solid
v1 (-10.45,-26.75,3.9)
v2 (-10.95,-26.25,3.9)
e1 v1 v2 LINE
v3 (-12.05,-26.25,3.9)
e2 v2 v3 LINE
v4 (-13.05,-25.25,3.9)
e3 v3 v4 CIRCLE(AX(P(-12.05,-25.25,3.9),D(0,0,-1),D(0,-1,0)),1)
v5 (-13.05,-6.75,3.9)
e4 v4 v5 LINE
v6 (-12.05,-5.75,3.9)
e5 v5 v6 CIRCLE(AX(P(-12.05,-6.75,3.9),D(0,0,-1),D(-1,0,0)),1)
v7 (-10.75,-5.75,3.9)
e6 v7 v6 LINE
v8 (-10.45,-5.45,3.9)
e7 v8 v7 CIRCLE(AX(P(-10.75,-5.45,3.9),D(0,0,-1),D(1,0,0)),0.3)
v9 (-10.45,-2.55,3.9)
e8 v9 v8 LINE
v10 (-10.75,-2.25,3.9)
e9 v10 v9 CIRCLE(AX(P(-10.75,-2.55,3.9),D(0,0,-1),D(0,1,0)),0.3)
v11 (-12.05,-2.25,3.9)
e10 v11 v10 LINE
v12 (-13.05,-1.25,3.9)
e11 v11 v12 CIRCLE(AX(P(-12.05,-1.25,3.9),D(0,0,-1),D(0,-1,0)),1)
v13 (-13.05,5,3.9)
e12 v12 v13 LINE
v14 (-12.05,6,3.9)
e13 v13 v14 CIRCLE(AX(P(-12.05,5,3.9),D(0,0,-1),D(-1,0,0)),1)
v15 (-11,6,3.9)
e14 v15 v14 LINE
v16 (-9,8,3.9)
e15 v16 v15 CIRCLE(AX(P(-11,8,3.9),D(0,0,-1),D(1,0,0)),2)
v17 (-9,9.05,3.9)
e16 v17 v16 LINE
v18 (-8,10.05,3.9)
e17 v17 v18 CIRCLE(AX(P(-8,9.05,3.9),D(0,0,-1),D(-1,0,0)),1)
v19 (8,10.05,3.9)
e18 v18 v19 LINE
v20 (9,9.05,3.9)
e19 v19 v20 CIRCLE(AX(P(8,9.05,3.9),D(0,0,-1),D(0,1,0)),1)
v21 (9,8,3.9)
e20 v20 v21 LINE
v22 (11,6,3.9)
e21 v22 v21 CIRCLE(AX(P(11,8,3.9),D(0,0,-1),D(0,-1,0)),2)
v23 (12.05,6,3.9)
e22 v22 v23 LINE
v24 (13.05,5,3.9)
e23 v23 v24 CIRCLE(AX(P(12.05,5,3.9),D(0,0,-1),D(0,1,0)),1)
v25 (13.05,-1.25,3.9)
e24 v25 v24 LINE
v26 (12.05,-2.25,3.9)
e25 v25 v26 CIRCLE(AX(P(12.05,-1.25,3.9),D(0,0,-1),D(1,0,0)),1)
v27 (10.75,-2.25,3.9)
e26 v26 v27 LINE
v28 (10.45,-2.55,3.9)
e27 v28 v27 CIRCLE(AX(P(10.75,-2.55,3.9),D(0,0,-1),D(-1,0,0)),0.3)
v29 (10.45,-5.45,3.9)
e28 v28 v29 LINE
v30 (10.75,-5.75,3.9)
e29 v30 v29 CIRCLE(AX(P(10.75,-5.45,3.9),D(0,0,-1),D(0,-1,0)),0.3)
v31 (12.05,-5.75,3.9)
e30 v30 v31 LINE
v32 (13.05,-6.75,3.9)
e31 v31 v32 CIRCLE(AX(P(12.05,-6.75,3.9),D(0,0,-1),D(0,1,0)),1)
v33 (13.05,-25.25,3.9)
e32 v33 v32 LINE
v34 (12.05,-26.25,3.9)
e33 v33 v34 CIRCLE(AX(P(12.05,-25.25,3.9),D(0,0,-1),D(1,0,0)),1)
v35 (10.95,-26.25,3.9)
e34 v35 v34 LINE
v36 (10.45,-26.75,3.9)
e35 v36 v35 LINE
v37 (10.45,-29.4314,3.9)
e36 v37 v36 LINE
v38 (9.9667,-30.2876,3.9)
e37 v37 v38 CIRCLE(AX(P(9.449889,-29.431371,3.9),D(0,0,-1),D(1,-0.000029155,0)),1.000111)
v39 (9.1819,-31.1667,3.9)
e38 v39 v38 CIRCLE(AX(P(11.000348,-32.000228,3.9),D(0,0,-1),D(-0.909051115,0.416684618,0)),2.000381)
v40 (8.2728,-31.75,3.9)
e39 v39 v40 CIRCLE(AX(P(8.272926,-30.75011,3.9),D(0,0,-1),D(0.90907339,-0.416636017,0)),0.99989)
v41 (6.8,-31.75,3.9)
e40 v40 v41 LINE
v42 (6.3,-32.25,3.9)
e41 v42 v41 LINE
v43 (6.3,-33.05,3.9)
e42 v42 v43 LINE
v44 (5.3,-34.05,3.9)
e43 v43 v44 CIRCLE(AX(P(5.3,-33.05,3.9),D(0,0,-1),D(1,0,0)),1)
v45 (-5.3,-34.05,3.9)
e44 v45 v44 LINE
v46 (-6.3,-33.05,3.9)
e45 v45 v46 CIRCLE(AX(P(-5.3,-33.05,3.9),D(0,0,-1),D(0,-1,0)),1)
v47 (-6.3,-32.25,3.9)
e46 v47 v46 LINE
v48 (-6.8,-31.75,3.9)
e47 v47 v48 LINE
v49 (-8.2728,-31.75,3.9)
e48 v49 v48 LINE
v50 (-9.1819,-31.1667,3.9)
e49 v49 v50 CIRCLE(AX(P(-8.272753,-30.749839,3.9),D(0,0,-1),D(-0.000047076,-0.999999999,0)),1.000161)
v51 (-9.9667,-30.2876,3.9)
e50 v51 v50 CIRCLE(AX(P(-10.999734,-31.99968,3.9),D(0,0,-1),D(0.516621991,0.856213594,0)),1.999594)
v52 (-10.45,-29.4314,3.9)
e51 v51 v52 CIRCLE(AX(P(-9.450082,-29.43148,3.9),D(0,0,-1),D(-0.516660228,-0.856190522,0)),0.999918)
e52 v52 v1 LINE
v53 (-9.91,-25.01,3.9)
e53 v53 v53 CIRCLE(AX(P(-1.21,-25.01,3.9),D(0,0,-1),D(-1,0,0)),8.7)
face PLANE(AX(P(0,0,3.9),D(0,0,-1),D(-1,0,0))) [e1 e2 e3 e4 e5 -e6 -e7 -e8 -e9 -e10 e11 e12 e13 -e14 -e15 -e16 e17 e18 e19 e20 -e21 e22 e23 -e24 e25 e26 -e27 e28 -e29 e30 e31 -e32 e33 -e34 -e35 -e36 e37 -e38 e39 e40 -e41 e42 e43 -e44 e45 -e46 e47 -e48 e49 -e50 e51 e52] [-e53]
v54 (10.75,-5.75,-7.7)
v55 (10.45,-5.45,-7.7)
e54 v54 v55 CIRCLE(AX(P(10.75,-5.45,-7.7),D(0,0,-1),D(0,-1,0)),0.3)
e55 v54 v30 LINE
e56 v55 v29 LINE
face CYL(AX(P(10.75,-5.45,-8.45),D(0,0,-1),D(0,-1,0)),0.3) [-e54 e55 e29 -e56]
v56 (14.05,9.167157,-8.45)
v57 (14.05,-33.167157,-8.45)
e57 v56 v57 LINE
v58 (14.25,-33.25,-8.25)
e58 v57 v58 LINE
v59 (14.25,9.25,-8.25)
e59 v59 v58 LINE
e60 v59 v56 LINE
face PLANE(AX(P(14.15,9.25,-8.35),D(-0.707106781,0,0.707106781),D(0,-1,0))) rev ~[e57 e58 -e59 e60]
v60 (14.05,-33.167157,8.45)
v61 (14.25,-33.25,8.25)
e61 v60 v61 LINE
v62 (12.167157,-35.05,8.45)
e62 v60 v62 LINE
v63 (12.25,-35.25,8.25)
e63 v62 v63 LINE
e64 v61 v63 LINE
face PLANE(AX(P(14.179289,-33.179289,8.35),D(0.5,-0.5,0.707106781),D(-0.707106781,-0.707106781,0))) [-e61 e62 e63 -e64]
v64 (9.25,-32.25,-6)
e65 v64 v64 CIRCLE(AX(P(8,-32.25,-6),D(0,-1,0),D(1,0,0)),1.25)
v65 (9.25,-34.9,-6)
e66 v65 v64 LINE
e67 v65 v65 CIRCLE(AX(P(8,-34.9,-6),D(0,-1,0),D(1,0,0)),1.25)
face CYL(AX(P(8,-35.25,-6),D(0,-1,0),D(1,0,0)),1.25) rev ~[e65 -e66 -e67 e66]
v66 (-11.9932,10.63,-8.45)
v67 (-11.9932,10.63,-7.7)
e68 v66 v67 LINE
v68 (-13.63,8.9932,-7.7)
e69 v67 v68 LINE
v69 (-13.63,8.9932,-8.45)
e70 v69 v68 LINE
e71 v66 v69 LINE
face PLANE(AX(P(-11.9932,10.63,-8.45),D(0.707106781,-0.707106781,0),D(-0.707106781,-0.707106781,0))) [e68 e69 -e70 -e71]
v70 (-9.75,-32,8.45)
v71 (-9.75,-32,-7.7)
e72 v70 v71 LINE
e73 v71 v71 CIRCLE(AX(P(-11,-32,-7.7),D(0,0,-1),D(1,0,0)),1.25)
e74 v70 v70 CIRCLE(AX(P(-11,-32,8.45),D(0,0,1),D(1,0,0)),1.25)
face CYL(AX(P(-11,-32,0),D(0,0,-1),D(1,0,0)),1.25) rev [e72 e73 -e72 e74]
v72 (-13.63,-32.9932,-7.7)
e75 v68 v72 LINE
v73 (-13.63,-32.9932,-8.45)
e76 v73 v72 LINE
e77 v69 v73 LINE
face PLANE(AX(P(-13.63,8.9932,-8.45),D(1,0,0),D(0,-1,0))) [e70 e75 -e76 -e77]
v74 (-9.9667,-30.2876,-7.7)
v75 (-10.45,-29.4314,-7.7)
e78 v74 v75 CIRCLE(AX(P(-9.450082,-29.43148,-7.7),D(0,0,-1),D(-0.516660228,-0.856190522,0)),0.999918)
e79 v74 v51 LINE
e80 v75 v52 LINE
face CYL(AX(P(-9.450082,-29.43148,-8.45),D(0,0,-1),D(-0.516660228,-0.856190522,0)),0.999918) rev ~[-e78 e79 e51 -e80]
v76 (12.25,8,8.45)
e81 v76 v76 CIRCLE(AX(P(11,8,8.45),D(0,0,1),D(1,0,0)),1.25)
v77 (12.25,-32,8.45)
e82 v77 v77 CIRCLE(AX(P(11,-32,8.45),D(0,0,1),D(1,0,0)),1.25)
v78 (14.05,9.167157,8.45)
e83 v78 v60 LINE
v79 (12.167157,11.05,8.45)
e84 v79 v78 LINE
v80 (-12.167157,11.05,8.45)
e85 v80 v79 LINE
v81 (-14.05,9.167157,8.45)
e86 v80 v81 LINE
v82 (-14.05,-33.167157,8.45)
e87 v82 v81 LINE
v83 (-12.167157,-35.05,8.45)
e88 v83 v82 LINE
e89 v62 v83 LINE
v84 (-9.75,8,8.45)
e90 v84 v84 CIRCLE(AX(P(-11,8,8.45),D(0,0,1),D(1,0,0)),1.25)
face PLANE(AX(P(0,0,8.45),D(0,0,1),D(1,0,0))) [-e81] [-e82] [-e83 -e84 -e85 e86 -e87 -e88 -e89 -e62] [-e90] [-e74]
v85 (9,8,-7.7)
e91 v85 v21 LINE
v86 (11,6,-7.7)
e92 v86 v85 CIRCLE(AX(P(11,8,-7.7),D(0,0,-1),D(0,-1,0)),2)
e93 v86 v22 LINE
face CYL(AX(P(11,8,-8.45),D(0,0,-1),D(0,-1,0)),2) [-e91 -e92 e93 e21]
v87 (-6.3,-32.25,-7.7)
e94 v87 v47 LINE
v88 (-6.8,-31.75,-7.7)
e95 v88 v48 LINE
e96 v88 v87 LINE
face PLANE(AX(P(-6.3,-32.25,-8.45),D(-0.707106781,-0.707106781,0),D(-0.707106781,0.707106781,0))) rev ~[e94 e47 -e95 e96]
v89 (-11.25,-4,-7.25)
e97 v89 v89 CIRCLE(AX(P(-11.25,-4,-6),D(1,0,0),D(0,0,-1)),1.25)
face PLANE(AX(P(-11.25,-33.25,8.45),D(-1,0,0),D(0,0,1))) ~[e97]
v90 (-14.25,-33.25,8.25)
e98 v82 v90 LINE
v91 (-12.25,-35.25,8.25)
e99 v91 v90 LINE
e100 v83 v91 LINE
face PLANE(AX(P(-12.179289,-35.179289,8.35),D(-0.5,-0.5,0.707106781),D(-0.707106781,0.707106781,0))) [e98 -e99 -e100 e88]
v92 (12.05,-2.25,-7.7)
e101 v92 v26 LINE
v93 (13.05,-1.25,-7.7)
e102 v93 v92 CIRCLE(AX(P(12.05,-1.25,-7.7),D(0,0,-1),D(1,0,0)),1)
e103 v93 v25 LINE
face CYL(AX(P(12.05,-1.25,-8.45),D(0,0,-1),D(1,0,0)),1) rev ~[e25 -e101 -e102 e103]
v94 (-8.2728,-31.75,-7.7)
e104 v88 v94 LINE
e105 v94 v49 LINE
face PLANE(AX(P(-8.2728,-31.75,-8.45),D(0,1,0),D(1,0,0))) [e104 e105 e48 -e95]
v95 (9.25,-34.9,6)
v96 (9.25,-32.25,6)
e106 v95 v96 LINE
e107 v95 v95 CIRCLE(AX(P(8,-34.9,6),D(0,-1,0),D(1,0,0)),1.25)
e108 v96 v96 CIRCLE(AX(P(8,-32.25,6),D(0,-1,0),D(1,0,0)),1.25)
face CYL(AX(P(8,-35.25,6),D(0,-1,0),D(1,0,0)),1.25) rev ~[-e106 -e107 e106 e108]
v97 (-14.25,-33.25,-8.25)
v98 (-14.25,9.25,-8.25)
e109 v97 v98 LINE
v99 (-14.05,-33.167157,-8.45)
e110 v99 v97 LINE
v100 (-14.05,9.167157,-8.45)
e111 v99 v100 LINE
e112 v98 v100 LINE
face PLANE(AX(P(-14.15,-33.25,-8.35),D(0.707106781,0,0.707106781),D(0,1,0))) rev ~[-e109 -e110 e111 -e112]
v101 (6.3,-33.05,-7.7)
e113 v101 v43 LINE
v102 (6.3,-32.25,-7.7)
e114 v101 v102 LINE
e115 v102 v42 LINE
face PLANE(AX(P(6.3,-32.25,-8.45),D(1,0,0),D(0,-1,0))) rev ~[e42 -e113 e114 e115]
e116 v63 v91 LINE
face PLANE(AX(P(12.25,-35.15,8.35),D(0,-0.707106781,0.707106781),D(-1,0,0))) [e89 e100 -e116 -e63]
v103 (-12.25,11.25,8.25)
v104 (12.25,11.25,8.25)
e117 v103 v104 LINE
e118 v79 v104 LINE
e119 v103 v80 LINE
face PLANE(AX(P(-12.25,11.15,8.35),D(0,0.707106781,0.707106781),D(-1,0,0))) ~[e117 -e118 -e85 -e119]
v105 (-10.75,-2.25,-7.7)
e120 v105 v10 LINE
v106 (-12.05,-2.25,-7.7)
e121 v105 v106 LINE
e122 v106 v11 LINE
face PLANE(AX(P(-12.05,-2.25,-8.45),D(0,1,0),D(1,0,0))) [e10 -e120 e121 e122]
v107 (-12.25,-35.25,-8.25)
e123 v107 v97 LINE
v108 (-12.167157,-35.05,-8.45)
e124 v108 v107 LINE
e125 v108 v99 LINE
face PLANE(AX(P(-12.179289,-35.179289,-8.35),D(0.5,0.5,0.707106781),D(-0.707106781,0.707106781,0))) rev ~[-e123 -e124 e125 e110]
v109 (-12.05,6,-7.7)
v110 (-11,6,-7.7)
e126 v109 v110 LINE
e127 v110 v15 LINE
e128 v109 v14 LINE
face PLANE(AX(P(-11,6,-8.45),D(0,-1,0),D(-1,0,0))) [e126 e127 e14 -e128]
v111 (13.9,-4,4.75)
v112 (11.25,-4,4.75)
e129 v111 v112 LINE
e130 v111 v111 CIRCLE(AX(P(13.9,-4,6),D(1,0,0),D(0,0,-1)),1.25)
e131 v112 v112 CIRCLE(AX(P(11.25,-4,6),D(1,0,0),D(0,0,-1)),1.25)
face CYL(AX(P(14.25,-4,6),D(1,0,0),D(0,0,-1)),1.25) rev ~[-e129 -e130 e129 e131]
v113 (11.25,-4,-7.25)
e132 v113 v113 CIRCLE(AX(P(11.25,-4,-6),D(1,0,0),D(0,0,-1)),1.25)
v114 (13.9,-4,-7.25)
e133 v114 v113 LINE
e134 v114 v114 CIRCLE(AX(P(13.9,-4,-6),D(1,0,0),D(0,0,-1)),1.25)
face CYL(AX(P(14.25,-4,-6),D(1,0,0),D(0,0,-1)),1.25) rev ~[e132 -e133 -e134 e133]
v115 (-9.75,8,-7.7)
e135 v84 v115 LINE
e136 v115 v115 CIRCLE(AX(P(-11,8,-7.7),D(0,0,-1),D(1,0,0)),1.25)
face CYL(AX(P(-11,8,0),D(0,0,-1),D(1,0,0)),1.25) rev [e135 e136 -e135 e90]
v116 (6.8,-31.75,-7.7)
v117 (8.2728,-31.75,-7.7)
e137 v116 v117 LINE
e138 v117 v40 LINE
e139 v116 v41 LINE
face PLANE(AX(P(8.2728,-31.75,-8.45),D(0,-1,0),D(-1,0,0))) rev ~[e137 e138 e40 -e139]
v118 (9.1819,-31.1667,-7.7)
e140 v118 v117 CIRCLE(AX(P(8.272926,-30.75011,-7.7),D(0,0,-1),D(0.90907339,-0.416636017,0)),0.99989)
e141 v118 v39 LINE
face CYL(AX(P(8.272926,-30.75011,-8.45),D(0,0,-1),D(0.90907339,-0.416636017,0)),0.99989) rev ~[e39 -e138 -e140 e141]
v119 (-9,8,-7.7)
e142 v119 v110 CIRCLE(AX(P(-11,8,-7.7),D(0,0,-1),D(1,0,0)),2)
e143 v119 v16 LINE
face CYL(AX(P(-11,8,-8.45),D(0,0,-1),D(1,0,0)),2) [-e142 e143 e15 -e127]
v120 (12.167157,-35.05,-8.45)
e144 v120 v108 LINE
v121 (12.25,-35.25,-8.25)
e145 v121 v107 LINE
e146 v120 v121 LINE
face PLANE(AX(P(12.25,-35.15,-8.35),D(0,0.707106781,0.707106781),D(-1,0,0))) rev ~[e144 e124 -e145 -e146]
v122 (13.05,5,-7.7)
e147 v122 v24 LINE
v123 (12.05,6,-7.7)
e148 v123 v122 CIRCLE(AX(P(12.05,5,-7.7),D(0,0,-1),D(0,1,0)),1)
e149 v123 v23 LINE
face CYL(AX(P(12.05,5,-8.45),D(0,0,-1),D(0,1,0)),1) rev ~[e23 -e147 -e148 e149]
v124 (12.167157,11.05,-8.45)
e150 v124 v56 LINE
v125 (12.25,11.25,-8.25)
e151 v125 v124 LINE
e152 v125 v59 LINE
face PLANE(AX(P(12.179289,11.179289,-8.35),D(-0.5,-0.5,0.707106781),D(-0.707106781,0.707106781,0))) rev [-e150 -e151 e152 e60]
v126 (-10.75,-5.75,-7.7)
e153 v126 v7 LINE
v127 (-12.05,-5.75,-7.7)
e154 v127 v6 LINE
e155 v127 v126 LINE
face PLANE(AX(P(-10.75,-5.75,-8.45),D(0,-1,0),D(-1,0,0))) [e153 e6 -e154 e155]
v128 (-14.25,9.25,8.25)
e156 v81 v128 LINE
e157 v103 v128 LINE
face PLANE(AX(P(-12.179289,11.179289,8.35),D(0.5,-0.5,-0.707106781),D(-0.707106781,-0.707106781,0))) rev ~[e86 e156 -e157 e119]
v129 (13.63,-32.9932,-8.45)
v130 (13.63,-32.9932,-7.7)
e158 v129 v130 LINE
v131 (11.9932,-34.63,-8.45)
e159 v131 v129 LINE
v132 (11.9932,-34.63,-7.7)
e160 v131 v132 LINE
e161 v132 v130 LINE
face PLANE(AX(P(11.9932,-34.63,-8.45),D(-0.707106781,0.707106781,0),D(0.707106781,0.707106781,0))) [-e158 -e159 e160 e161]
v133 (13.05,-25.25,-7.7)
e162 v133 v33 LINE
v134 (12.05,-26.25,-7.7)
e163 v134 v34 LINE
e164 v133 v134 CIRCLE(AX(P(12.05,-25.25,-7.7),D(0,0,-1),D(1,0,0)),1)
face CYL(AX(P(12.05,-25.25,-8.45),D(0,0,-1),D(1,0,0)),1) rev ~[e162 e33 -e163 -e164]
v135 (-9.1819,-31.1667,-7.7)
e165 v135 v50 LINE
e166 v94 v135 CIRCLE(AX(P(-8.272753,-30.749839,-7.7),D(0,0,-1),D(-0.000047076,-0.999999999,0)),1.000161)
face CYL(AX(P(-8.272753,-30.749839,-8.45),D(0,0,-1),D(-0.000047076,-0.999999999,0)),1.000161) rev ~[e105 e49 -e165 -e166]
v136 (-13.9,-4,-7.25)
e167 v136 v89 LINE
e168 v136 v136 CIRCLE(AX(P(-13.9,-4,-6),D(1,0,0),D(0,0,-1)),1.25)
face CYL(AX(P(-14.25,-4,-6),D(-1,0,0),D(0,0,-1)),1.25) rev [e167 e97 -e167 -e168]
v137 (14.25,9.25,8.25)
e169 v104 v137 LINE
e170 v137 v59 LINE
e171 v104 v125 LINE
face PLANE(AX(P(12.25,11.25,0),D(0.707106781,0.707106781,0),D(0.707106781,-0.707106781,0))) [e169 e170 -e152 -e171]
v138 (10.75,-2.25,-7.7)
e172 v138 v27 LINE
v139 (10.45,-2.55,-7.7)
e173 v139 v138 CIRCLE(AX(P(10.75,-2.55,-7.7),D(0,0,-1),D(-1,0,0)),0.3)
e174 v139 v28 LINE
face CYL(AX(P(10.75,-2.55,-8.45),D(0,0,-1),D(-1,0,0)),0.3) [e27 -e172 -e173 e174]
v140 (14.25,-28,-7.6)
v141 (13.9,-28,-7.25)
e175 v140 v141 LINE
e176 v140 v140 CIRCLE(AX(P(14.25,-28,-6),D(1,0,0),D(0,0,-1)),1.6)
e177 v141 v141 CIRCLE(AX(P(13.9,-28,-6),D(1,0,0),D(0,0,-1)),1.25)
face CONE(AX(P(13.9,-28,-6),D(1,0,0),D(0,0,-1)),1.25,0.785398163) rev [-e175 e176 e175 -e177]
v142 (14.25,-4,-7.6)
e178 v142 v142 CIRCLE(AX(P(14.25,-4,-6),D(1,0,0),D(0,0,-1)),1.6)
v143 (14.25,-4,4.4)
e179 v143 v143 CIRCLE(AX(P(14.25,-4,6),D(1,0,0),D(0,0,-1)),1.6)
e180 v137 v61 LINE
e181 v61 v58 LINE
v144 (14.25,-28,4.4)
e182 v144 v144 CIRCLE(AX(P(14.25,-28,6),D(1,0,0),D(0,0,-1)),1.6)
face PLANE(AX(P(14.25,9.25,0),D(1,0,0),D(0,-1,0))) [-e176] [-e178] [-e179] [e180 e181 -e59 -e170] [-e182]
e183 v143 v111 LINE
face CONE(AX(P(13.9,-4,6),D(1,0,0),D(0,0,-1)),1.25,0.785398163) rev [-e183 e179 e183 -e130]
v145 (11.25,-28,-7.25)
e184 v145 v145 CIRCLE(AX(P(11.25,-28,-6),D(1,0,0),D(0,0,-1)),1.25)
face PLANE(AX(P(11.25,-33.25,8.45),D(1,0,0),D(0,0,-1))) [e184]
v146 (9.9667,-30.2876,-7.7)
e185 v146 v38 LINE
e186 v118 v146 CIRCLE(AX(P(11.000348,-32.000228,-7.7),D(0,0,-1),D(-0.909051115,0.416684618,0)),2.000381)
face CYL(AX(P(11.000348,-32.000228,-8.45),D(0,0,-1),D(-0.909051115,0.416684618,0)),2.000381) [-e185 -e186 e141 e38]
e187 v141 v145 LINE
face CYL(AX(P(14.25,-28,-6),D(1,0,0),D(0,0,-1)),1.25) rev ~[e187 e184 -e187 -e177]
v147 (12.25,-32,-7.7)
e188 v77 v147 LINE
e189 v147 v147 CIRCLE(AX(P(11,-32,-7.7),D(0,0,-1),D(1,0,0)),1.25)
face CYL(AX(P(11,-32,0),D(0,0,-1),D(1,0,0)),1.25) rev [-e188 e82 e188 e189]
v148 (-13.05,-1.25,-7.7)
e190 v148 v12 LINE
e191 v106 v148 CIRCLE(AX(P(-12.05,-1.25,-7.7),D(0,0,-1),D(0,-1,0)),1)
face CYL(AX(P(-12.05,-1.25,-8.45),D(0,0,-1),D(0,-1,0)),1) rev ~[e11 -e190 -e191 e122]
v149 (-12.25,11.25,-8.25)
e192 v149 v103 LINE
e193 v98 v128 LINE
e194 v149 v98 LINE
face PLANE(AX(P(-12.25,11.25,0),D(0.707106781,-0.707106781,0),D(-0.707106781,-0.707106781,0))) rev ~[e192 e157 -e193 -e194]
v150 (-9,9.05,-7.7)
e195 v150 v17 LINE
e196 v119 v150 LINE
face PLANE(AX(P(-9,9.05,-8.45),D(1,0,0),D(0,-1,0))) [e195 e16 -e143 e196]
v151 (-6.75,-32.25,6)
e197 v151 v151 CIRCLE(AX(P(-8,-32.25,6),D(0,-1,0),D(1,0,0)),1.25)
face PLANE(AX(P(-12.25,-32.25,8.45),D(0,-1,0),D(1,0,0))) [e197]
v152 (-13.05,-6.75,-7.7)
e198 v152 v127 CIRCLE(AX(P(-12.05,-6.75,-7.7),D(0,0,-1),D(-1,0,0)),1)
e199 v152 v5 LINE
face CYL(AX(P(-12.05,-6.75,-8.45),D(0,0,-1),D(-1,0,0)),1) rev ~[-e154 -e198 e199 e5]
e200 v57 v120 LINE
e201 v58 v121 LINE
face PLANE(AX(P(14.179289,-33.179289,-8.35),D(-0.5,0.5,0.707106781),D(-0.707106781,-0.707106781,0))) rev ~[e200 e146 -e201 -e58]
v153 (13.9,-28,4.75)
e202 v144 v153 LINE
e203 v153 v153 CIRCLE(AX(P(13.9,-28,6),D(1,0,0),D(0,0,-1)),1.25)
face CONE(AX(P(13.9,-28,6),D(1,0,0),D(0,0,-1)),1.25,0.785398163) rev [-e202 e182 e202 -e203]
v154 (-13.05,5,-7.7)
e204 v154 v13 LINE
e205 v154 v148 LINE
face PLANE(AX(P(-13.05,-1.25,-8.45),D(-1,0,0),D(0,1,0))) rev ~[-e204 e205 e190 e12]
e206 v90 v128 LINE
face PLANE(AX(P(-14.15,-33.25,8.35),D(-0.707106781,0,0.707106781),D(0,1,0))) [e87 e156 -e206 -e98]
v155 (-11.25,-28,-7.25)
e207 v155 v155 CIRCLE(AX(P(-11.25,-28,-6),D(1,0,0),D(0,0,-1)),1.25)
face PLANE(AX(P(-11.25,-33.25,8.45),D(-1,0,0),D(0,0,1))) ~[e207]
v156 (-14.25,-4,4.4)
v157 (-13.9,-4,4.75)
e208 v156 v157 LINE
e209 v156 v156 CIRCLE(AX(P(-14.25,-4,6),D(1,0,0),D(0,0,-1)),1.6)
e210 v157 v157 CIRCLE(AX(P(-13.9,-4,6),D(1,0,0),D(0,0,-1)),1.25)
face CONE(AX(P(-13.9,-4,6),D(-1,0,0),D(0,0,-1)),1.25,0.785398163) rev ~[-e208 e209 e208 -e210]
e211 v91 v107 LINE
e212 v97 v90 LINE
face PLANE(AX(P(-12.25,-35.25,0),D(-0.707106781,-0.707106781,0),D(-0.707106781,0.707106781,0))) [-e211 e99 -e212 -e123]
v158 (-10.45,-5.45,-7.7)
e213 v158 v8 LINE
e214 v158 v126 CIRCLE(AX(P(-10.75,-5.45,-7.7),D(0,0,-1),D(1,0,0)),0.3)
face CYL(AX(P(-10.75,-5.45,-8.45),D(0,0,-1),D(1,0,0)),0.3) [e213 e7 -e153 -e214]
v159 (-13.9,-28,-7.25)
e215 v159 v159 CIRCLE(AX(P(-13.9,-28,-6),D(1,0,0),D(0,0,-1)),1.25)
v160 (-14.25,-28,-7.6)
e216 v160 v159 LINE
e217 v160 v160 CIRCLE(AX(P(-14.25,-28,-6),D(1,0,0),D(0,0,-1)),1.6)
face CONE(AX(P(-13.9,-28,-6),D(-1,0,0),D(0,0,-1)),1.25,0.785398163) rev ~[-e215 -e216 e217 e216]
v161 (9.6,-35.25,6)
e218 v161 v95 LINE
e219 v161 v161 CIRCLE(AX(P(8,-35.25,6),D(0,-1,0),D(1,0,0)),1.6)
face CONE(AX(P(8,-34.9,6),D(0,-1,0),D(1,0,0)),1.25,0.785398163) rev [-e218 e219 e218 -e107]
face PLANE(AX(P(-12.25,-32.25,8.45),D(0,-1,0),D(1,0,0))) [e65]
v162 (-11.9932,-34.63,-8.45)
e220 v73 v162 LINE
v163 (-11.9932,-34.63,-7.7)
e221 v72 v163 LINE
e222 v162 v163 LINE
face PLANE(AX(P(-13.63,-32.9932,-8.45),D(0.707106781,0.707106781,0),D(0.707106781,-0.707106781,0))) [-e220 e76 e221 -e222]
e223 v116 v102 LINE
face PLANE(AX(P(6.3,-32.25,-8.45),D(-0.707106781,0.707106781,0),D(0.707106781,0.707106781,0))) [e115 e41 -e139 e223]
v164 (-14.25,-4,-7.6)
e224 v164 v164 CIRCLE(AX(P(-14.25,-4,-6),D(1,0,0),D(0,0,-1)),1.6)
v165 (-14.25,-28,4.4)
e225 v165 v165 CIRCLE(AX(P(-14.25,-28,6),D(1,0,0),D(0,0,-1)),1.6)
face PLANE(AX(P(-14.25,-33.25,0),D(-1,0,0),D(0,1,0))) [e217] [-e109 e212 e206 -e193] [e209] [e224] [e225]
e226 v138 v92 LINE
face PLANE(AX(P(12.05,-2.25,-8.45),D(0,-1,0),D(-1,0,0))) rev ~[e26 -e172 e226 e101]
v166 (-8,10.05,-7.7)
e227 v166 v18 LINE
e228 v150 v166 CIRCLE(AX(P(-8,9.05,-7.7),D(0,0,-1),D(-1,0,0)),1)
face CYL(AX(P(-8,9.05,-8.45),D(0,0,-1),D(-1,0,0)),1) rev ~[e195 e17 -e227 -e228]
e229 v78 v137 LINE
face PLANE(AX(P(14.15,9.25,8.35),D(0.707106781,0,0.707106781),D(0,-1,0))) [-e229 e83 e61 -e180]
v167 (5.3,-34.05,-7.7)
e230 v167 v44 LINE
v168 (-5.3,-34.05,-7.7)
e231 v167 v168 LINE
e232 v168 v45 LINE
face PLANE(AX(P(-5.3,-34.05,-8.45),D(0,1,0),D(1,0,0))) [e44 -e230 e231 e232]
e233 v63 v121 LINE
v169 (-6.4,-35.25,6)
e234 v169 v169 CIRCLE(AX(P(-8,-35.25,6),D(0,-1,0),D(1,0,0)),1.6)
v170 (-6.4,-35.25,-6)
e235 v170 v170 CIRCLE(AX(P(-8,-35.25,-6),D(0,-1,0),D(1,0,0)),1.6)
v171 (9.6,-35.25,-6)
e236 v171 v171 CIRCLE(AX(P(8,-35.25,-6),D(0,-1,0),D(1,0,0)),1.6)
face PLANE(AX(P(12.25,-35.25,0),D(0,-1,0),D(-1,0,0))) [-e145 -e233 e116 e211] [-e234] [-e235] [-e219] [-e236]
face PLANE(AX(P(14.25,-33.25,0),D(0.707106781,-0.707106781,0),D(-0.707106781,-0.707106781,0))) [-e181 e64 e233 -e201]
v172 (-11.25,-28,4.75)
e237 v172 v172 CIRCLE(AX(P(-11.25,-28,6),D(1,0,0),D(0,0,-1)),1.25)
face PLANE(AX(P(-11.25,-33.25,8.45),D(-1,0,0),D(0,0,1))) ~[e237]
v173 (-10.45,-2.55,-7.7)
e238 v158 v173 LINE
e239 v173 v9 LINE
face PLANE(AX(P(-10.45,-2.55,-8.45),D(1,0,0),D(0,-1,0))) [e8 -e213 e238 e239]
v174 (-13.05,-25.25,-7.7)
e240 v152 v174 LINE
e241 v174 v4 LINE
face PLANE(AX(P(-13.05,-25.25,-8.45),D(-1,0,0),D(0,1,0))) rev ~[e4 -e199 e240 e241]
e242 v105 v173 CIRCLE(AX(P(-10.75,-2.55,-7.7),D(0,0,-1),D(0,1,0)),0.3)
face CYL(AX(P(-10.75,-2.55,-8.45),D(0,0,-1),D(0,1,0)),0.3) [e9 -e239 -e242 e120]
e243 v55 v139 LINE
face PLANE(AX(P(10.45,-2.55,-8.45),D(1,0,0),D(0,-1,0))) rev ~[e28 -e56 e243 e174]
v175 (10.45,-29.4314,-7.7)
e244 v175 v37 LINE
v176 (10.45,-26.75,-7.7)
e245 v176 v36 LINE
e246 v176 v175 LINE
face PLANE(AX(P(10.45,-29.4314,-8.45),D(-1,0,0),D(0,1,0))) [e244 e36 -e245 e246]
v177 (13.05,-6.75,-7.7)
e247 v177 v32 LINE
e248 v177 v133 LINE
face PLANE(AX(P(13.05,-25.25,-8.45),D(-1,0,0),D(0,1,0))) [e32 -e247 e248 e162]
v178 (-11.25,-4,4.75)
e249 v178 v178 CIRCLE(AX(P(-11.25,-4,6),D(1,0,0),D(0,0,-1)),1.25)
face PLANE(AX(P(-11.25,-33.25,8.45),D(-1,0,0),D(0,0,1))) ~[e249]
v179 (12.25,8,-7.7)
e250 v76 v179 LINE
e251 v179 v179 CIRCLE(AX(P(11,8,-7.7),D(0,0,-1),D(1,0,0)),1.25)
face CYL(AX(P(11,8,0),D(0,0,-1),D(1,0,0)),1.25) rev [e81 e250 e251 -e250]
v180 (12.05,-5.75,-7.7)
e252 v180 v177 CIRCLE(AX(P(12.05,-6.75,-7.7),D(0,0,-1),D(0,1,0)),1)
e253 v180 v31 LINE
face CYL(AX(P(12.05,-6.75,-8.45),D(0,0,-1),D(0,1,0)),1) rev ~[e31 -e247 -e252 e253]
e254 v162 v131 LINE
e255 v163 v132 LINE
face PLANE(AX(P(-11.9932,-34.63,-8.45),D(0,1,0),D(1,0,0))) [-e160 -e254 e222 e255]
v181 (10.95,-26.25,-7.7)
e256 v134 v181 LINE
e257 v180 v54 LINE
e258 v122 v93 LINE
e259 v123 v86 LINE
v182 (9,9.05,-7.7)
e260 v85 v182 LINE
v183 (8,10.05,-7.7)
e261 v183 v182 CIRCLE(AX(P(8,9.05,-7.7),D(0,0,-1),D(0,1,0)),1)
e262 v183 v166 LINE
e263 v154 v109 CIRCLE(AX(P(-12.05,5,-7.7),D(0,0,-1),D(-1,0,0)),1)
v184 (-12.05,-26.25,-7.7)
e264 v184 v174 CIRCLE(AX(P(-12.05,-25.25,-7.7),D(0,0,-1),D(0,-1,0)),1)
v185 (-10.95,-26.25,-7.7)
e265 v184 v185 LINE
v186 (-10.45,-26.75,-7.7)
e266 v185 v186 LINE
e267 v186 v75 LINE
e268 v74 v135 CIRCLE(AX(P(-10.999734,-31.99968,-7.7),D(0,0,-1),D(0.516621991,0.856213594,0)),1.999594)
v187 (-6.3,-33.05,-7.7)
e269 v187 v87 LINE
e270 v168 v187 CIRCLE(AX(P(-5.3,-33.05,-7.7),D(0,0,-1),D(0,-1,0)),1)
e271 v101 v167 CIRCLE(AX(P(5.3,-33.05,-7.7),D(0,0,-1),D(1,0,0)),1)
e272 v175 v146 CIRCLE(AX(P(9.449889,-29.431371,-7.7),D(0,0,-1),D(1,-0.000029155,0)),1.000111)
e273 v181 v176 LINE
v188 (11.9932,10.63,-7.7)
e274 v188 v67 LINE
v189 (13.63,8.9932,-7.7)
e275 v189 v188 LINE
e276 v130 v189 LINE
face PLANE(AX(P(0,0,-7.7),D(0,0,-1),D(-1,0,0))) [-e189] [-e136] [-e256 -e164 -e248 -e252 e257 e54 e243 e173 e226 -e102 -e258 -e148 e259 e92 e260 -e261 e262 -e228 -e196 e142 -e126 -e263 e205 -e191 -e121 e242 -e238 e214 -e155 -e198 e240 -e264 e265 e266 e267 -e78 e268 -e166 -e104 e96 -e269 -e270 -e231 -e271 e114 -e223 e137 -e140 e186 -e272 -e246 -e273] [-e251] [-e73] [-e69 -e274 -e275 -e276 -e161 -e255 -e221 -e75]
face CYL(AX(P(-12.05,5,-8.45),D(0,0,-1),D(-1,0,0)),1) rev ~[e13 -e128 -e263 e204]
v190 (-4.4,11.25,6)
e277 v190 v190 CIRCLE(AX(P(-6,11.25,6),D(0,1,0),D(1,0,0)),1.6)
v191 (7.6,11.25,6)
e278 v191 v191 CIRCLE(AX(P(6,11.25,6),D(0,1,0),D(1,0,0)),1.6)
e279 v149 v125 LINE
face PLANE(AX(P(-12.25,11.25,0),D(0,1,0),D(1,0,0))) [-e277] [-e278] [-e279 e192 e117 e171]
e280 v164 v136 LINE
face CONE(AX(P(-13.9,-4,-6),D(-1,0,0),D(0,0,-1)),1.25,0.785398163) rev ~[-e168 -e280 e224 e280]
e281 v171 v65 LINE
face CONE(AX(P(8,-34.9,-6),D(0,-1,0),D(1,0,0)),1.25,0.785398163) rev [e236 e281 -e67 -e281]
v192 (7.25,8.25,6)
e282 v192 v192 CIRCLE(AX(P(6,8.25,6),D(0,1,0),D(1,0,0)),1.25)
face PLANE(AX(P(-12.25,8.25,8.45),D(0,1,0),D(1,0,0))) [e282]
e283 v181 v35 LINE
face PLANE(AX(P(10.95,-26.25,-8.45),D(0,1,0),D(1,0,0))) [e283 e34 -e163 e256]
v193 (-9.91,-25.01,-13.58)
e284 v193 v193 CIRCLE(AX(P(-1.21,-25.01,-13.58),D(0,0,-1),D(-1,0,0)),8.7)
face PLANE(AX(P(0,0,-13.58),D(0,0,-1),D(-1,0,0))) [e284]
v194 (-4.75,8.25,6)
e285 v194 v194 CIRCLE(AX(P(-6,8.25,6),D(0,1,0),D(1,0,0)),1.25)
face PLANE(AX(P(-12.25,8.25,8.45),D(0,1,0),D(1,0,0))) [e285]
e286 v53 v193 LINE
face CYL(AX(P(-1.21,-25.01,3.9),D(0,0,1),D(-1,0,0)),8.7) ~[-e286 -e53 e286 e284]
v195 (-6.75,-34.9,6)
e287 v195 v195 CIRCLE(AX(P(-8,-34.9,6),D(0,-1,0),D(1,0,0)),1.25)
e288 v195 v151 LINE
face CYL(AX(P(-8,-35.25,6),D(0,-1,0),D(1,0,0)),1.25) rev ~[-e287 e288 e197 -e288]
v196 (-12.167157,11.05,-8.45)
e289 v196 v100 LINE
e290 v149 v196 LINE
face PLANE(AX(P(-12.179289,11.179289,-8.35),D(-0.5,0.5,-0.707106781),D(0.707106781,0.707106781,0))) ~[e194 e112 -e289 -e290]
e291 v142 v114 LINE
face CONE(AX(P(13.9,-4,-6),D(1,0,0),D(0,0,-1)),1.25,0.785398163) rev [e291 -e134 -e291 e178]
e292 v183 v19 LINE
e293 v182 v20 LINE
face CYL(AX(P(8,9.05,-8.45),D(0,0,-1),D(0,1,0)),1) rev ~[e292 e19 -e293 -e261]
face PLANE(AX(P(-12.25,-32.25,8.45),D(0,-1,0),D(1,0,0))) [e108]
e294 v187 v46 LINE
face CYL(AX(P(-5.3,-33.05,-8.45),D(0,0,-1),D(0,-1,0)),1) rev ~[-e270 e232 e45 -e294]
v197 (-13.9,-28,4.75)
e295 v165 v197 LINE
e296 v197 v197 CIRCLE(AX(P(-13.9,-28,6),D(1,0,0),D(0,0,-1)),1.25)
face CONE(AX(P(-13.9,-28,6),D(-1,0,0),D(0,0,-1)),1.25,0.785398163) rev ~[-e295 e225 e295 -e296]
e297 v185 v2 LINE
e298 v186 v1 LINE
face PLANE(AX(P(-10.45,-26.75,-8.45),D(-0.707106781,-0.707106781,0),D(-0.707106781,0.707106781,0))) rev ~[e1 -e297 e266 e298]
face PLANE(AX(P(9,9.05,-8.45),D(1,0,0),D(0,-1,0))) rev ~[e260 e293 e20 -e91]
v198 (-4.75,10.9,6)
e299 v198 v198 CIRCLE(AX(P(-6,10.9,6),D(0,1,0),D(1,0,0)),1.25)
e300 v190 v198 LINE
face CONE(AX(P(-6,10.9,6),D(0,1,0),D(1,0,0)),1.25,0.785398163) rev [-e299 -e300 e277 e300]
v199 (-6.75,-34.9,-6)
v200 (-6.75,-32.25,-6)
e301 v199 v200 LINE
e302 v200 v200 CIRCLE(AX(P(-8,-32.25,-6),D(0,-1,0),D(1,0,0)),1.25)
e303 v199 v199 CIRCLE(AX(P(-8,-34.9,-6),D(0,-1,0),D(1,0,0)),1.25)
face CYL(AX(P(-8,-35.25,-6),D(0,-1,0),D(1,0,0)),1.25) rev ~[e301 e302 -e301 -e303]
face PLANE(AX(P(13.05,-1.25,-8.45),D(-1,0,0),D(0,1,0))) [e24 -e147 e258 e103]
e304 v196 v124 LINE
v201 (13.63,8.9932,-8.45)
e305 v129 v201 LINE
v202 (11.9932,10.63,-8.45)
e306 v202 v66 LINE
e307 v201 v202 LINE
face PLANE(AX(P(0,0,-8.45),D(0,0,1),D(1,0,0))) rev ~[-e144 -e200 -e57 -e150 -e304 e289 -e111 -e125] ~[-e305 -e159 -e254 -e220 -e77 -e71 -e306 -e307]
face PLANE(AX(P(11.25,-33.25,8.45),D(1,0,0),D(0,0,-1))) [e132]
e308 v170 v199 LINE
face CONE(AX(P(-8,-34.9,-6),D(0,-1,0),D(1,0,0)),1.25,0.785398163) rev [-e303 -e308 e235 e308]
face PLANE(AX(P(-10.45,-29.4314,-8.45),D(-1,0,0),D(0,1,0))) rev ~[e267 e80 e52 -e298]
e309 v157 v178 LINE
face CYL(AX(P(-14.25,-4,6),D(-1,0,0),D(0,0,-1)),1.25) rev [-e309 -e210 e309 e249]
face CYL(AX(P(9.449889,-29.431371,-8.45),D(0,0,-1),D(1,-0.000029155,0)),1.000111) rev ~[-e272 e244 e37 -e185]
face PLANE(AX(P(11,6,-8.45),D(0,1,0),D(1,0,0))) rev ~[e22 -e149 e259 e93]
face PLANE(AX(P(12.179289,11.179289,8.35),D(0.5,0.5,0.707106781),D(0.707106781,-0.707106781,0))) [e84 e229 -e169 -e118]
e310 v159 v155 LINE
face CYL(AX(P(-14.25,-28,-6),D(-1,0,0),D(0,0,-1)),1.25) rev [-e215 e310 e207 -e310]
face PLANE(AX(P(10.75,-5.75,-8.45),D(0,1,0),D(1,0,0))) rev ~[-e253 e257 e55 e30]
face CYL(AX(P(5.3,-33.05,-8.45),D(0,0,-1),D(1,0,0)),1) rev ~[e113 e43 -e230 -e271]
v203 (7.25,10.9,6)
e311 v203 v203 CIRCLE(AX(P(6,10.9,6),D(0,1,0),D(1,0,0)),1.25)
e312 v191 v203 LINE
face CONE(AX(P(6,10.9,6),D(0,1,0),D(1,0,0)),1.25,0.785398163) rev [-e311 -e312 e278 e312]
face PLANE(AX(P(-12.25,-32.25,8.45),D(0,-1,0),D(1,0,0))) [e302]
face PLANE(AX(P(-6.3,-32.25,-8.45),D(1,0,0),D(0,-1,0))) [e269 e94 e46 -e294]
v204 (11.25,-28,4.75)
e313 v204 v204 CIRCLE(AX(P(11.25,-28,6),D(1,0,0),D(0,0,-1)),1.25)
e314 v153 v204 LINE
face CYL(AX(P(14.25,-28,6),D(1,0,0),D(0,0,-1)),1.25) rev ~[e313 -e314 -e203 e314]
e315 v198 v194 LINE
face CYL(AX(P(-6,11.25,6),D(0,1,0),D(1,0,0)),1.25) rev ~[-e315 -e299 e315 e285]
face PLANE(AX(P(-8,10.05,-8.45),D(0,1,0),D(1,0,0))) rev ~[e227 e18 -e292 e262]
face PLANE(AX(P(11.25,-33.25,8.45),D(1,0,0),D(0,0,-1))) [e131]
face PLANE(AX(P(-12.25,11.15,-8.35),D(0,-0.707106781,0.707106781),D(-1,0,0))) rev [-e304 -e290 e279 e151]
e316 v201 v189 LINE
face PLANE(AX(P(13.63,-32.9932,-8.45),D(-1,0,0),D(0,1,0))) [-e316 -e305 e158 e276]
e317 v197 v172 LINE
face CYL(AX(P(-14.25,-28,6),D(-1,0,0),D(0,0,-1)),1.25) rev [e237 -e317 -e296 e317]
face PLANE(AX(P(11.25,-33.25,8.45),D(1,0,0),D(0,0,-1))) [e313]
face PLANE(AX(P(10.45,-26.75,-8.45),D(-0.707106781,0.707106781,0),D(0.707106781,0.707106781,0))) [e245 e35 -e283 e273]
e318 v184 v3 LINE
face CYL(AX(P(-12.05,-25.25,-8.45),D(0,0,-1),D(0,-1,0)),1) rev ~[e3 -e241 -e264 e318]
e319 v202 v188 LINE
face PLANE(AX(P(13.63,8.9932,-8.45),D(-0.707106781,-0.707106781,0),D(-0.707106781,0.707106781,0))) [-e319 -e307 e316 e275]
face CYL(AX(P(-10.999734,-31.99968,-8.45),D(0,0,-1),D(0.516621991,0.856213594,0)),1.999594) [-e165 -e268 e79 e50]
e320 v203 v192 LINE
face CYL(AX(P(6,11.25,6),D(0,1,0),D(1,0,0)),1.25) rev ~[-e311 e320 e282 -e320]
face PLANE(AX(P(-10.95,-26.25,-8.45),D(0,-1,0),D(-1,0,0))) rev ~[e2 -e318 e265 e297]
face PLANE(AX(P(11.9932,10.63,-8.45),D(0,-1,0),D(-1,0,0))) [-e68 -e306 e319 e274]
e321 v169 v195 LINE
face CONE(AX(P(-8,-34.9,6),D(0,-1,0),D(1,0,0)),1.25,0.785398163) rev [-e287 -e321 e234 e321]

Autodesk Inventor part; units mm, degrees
ref_plane "YZ Plane" through (0, 0, 0) normal (1, 0, 0) x (0, 1, 0)
ref_plane "XZ Plane" through (0, 0, 0) normal (0, 1, 0) x (-1, 0, 0)
ref_plane "XY Plane" through (0, 0, 0) normal (0, 0, 1) x (1, 0, 0)
sketch "スケッチ1" plane through (0, 0, 0) normal (0, 0, 1) x (1, 0, 0)
  line L0 (-12.25, 11.25) -> (12.25, 11.25)
  line L1 (14.25, 9.25) -> (14.25, -33.25)
  line L2 (12.25, -35.25) -> (-12.25, -35.25)
  line L3 (-14.25, -33.25) -> (-14.25, 9.25)
  line L4 (0, 0) -> (0, 27.3047) construction
  line L5 (-23.6918, 0) -> (33.2657, 0) construction
  line L6 (-12.25, 11.25) -> (-14.25, 9.25)
  line L7 (12.25, 11.25) -> (14.25, 9.25)
  line L8 (14.25, -33.25) -> (12.25, -35.25)
  line L9 (-12.25, -35.25) -> (-14.25, -33.25)
  circle A0 centre (11, 8) radius 1.25
  circle A1 centre (11, -32) radius 1.25
  line L10 (11, 8) -> (11, -32) construction
  circle A2 centre (-11, 8) radius 1.25
  circle A3 centre (-11, -32) radius 1.25
  point P0 (-14.25, 11.25)
  point P1 (14.25, -35.25)
  point P2 (14.25, 11.25)
  point P3 (-14.25, -35.25)
  dimension "d0" = 11.25
  dimension "d1" = 28.5
  dimension "d2" = 46.5
  dimension "d3" = 2
  dimension "d4" = 2
  dimension "d5" = 2
  dimension "d6" = 2
  dimension "d7" = 2
  dimension "d8" = 2
  dimension "d9" = 2
  dimension "d10" = 2
  dimension "d11" = 22
  dimension "d12" = 8
  dimension "d13" = 40
  dimension "d14" = 2.5
extrude "押し出し1" add sketch "スケッチ1" along normal mid plane 16.9
sketch "スケッチ2" plane through (14.25, -33.25, 8.45) normal (1, 0, 0) x (0, 0, -1)
  line L0 (2.45, 29.25) -> (14.45, 29.25) construction
  line L1 (14.45, 29.25) -> (14.45, 5.25) construction
  line L2 (14.45, 5.25) -> (2.45, 5.25) construction
  line L3 (2.45, 5.25) -> (2.45, 29.25) construction
  line L4 (8.45, 45.5456) -> (8.45, -6.7965) construction
  line L5 (-14.7674, 33.25) -> (26.9277, 33.25) construction
  circle A0 centre (2.45, 29.25) radius 1.25
  circle A1 centre (14.45, 29.25) radius 1.25
  circle A2 centre (14.45, 5.25) radius 1.25
  circle A3 centre (2.45, 5.25) radius 1.25
  point P0 (8.45, 33.25)
  dimension "d17" = 12
  dimension "d18" = 4
  dimension "d19" = 24
  dimension "d20" = 2.5
extrude "押し出し2" cut sketch "スケッチ2" against normal blind 3
mirror "ミラー1" about plane through (0, 0, 0) normal (1, 0, 0) of "押し出し2"
sketch "スケッチ3" plane through (-12.25, 11.25, 8.45) normal (0, 1, 0) x (1, 0, 0)
  line L0 (12.25, 8.45) -> (12.25, -3.712) construction
  line L1 (6.25, 2.45) -> (18.25, 2.45) construction
  circle A0 centre (6.25, 2.45) radius 1.25
  circle A1 centre (18.25, 2.45) radius 1.25
  dimension "d23" = 2.5
  dimension "d24" = 12
  dimension "d25" = 6
extrude "押し出し3" cut sketch "スケッチ3" against normal blind 3
sketch "スケッチ4" plane through (-12.25, -35.25, 8.45) normal (0, -1, 0) x (1, 0, 0)
  line L0 (12.25, 3.9965) -> (12.25, -24.0528) construction
  line L1 (4.25, -2.45) -> (20.25, -2.45) construction
  line L2 (20.25, -2.45) -> (20.25, -14.45) construction
  line L3 (20.25, -14.45) -> (4.25, -14.45) construction
  line L4 (4.25, -14.45) -> (4.25, -2.45) construction
  circle A0 centre (4.25, -2.45) radius 1.25
  circle A1 centre (4.25, -14.45) radius 1.25
  circle A2 centre (20.25, -2.45) radius 1.25
  circle A3 centre (20.25, -14.45) radius 1.25
  line L5 (-5.6157, -8.45) -> (30.9537, -8.45) construction
  point P0 (12.25, -8.45)
  dimension "d64" = 12
  dimension "d65" = 16
  dimension "d66" = 2.5
extrude "押し出し4" cut sketch "スケッチ4" against normal blind 3
chamfer "面取り1" distance 0.2 angle 45 16 edges at (-14.25, -12, 8.45) (-13.25, -34.25, 8.45) (0, -35.25, 8.45) (13.25, -34.25, 8.45) (14.25, -12, 8.45) (13.25, 10.25, 8.45) (0, 11.25, 8.45) (-13.25, 10.25, 8.45) (13.25, 10.25, -8.45) (0, 11.25, -8.45) (-13.25, 10.25, -8.45) (-14.25, -12, -8.45) (-13.25, -34.25, -8.45) (0, -35.25, -8.45) (13.25, -34.25, -8.45) (14.25, -12, -8.45)
chamfer "面取り2" distance 0.35 angle 45 14 edges at (-14.25, -4, 7.25) (-14.25, -4, -4.75) (-14.25, -28, -4.75) (-14.25, -28, 7.25) (-7.25, 11.25, 6) (4.75, 11.25, 6) (14.25, -4, 7.25) (14.25, -4, -4.75) (14.25, -28, -4.75) (14.25, -28, 7.25) (6.75, -35.25, 6) (-9.25, -35.25, 6) (-9.25, -35.25, -6) (6.75, -35.25, -6)
sketch "スケッチ5" plane through (0, 0, -8.45) normal (0, 0, -1) x (-1, 0, 0)
  line L0 (12.25, 11.25) -> (-12.25, 11.25) construction
  line L1 (14.25, -33.25) -> (14.25, 9.25) construction
  circle A0 centre (11, 8) radius 1.25 construction
  line L2 (8, 10.05) -> (-8, 10.05)
  line L3 (13.05, -25.25) -> (13.05, -6.75)
  line L4 (0, -4) -> (14.25, -4) construction
  line L5 (12.05, -2.25) -> (10.75, -2.25)
  line L6 (10.45, -2.55) -> (10.45, -5.45)
  line L7 (10.75, -5.75) -> (12.05, -5.75)
  line L8 (13.05, -1.25) -> (13.05, 5)
  line L9 (13.05, -5.75) -> (13.05, -2.25) construction
  arc A1 (9, 8) -> (11, 6) centre (11, 8) ccw
  line L10 (9, 9.05) -> (9, 8)
  line L11 (11, 6) -> (12.05, 6)
  line L12 (-12.25, -35.25) -> (12.25, -35.25) construction
  line L13 (0, -12) -> (14.25, -12) construction
  line L14 (8, -35.25) -> (8, -32.724) construction
  line L15 (8.2728, -31.75) -> (6.8, -31.75)
  line L16 (6.3, -32.25) -> (6.3, -33.05)
  line L17 (5.3, -34.05) -> (-5.3, -34.05)
  line L18 (-12.25, 11.25) -> (12.25, 11.25) construction
  line L19 (0, 11.25) -> (0, -35.25) construction
  line L20 (10.45, -29.4314) -> (10.45, -26.75)
  line L21 (10.95, -26.25) -> (12.05, -26.25)
  line L22 (10.45, -28) -> (14.25, -28) construction
  arc A2 (9.9667, -30.2876) -> (9.1819, -31.1667) centre (11, -32) ccw
  circle A3 centre (11, -32) radius 1.25 construction
  arc A4 (5.3, -34.05) -> (6.3, -33.05) centre (5.3, -33.05) ccw
  arc A5 (8.2728, -31.75) -> (9.1819, -31.1667) centre (8.2728, -30.75) ccw
  arc A6 (9.9667, -30.2876) -> (10.45, -29.4314) centre (9.45, -29.4314) ccw
  arc A7 (12.05, -26.25) -> (13.05, -25.25) centre (12.05, -25.25) ccw
  arc A8 (13.05, -6.75) -> (12.05, -5.75) centre (12.05, -6.75) ccw
  arc A9 (12.05, -2.25) -> (13.05, -1.25) centre (12.05, -1.25) ccw
  arc A10 (13.05, 5) -> (12.05, 6) centre (12.05, 5) ccw
  arc A11 (9, 9.05) -> (8, 10.05) centre (8, 9.05) ccw
  line L23 (6.3, -32.25) -> (6.8, -31.75)
  line L24 (10.45, -26.75) -> (10.95, -26.25)
  arc A12 (10.45, -5.45) -> (10.75, -5.75) centre (10.75, -5.45) ccw
  arc A13 (10.75, -2.25) -> (10.45, -2.55) centre (10.75, -2.55) ccw
  line L25 (-14.25, -33.25) -> (-14.25, 9.25) construction
  circle A14 centre (-11, 8) radius 1.25 construction
  line L26 (-13.05, -25.25) -> (-13.05, -6.75)
  line L27 (-12.05, -2.25) -> (-10.75, -2.25)
  line L28 (-10.45, -2.55) -> (-10.45, -5.45)
  line L29 (-10.75, -5.75) -> (-12.05, -5.75)
  line L30 (-13.05, -1.25) -> (-13.05, 5)
  line L31 (-13.05, -5.75) -> (-13.05, -2.25) construction
  arc A15 (-11, 6) -> (-9, 8) centre (-11, 8) ccw
  line L32 (-9, 9.05) -> (-9, 8)
  line L33 (-11, 6) -> (-12.05, 6)
  line L34 (-8, -35.25) -> (-8, -32.724) construction
  line L35 (-8.2728, -31.75) -> (-6.8, -31.75)
  line L36 (-6.3, -32.25) -> (-6.3, -33.05)
  line L37 (-10.45, -29.4314) -> (-10.45, -26.75)
  line L38 (-10.95, -26.25) -> (-12.05, -26.25)
  line L39 (-10.45, -28) -> (-14.25, -28) construction
  arc A16 (-9.1819, -31.1667) -> (-9.9667, -30.2876) centre (-11, -32) ccw
  circle A17 centre (-11, -32) radius 1.25 construction
  arc A18 (-6.3, -33.05) -> (-5.3, -34.05) centre (-5.3, -33.05) ccw
  arc A19 (-9.1819, -31.1667) -> (-8.2728, -31.75) centre (-8.2728, -30.75) ccw
  arc A20 (-10.45, -29.4314) -> (-9.9667, -30.2876) centre (-9.45, -29.4314) ccw
  arc A21 (-13.05, -25.25) -> (-12.05, -26.25) centre (-12.05, -25.25) ccw
  arc A22 (-12.05, -5.75) -> (-13.05, -6.75) centre (-12.05, -6.75) ccw
  arc A23 (-13.05, -1.25) -> (-12.05, -2.25) centre (-12.05, -1.25) ccw
  arc A24 (-12.05, 6) -> (-13.05, 5) centre (-12.05, 5) ccw
  arc A25 (-8, 10.05) -> (-9, 9.05) centre (-8, 9.05) ccw
  line L40 (-6.3, -32.25) -> (-6.8, -31.75)
  line L41 (-10.45, -26.75) -> (-10.95, -26.25)
  arc A26 (-10.75, -5.75) -> (-10.45, -5.45) centre (-10.75, -5.45) ccw
  arc A27 (-10.45, -2.55) -> (-10.75, -2.25) centre (-10.75, -2.55) ccw
  point P0 (0, 0)
  point P1 (6.3, -31.75)
  point P2 (10.45, -26.25)
  point P3 (10.45, -30.0771)
  point P4 (9.0157, -31.75)
  point P5 (-6.3, -31.75)
  point P6 (-10.45, -26.25)
  point P7 (-10.45, -30.0771)
  point P8 (-9.0157, -31.75)
  dimension "d37" = 4
  dimension "d38" = 1.2
  dimension "d39" = 1.2
  dimension "d41" = 2
  dimension "d42" = 3.8
  dimension "d43" = 3.5
  dimension "d44" = 8
  dimension "d45" = 3.4
  dimension "d46" = 3.5
  dimension "d47" = 1.2
  dimension "d48" = 3.5
  dimension "d49" = 24
  dimension "d50" = 2
  dimension "d51" = 1
  dimension "d52" = 0.5
  dimension "d53" = 0.5
  dimension "d54" = 0.5
  dimension "d55" = 0.5
  dimension "d56" = 0.3
extrude "押し出し5" cut sketch "スケッチ5" against normal blind 12.35
sketch "スケッチ7" plane through (0, 0, -8.45) normal (0, 0, -1) x (-1, 0, 0)
  line L0 (12.25, 11.25) -> (-12.25, 11.25) construction
  line L1 (14.25, 9.25) -> (12.25, 11.25) construction
  line L2 (14.25, -33.25) -> (14.25, 9.25) construction
  line L3 (12.25, -35.25) -> (14.25, -33.25) construction
  line L4 (-12.25, -35.25) -> (12.25, -35.25) construction
  line L5 (-14.25, -33.25) -> (-12.25, -35.25) construction
  line L6 (-14.25, 9.25) -> (-14.25, -33.25) construction
  line L7 (-12.25, 11.25) -> (-14.25, 9.25) construction
  line L8 (-11.9932, 10.63) -> (11.9932, 10.63)
  line L9 (11.9932, 10.63) -> (13.63, 8.9932)
  line L10 (13.63, 8.9932) -> (13.63, -32.9932)
  line L11 (13.63, -32.9932) -> (11.9932, -34.63)
  line L12 (11.9932, -34.63) -> (-11.9932, -34.63)
  line L13 (-11.9932, -34.63) -> (-13.63, -32.9932)
  line L14 (-13.63, -32.9932) -> (-13.63, 8.9932)
  line L15 (-13.63, 8.9932) -> (-11.9932, 10.63)
  point P0 (0, 0)
  dimension "d67" = 0.62
extrude "押し出し7" cut sketch "スケッチ7" against normal blind 0.75
sketch "スケッチ6" plane through (0, 0, 3.9) normal (0, 0, -1) x (-1, 0, 0)
  circle A0 centre (1.21, -25.01) radius 8.7
  line L0 (-12.25, -35.25) -> (12.25, -35.25) construction
  line L1 (14.25, -33.25) -> (14.25, 9.25) construction
  line L2 (-12.25, -33.71) -> (12.25, -33.71) construction
  line L3 (9.91, -33.25) -> (9.91, 9.25) construction
  point P0 (0, 0)
  dimension "d59" = 17.4
  dimension "d60" = 4.34
  dimension "d61" = 1.54
extrude "押し出し6" add sketch "スケッチ6" along normal blind 17.48
equation "\"d4\" = d3"
equation "\"d5\" = d3"
equation "\"d6\" = d5"
equation "\"d7\" = d3"
equation "\"d8\" = d7"
equation "\"d9\" = d3"
equation "\"d10\" = d9"
equation "\"d53\" = d52"
equation "\"d54\" = d52"
equation "\"d55\" = d54"
properties part number "XM430_HOUSING_MIDDLE"
